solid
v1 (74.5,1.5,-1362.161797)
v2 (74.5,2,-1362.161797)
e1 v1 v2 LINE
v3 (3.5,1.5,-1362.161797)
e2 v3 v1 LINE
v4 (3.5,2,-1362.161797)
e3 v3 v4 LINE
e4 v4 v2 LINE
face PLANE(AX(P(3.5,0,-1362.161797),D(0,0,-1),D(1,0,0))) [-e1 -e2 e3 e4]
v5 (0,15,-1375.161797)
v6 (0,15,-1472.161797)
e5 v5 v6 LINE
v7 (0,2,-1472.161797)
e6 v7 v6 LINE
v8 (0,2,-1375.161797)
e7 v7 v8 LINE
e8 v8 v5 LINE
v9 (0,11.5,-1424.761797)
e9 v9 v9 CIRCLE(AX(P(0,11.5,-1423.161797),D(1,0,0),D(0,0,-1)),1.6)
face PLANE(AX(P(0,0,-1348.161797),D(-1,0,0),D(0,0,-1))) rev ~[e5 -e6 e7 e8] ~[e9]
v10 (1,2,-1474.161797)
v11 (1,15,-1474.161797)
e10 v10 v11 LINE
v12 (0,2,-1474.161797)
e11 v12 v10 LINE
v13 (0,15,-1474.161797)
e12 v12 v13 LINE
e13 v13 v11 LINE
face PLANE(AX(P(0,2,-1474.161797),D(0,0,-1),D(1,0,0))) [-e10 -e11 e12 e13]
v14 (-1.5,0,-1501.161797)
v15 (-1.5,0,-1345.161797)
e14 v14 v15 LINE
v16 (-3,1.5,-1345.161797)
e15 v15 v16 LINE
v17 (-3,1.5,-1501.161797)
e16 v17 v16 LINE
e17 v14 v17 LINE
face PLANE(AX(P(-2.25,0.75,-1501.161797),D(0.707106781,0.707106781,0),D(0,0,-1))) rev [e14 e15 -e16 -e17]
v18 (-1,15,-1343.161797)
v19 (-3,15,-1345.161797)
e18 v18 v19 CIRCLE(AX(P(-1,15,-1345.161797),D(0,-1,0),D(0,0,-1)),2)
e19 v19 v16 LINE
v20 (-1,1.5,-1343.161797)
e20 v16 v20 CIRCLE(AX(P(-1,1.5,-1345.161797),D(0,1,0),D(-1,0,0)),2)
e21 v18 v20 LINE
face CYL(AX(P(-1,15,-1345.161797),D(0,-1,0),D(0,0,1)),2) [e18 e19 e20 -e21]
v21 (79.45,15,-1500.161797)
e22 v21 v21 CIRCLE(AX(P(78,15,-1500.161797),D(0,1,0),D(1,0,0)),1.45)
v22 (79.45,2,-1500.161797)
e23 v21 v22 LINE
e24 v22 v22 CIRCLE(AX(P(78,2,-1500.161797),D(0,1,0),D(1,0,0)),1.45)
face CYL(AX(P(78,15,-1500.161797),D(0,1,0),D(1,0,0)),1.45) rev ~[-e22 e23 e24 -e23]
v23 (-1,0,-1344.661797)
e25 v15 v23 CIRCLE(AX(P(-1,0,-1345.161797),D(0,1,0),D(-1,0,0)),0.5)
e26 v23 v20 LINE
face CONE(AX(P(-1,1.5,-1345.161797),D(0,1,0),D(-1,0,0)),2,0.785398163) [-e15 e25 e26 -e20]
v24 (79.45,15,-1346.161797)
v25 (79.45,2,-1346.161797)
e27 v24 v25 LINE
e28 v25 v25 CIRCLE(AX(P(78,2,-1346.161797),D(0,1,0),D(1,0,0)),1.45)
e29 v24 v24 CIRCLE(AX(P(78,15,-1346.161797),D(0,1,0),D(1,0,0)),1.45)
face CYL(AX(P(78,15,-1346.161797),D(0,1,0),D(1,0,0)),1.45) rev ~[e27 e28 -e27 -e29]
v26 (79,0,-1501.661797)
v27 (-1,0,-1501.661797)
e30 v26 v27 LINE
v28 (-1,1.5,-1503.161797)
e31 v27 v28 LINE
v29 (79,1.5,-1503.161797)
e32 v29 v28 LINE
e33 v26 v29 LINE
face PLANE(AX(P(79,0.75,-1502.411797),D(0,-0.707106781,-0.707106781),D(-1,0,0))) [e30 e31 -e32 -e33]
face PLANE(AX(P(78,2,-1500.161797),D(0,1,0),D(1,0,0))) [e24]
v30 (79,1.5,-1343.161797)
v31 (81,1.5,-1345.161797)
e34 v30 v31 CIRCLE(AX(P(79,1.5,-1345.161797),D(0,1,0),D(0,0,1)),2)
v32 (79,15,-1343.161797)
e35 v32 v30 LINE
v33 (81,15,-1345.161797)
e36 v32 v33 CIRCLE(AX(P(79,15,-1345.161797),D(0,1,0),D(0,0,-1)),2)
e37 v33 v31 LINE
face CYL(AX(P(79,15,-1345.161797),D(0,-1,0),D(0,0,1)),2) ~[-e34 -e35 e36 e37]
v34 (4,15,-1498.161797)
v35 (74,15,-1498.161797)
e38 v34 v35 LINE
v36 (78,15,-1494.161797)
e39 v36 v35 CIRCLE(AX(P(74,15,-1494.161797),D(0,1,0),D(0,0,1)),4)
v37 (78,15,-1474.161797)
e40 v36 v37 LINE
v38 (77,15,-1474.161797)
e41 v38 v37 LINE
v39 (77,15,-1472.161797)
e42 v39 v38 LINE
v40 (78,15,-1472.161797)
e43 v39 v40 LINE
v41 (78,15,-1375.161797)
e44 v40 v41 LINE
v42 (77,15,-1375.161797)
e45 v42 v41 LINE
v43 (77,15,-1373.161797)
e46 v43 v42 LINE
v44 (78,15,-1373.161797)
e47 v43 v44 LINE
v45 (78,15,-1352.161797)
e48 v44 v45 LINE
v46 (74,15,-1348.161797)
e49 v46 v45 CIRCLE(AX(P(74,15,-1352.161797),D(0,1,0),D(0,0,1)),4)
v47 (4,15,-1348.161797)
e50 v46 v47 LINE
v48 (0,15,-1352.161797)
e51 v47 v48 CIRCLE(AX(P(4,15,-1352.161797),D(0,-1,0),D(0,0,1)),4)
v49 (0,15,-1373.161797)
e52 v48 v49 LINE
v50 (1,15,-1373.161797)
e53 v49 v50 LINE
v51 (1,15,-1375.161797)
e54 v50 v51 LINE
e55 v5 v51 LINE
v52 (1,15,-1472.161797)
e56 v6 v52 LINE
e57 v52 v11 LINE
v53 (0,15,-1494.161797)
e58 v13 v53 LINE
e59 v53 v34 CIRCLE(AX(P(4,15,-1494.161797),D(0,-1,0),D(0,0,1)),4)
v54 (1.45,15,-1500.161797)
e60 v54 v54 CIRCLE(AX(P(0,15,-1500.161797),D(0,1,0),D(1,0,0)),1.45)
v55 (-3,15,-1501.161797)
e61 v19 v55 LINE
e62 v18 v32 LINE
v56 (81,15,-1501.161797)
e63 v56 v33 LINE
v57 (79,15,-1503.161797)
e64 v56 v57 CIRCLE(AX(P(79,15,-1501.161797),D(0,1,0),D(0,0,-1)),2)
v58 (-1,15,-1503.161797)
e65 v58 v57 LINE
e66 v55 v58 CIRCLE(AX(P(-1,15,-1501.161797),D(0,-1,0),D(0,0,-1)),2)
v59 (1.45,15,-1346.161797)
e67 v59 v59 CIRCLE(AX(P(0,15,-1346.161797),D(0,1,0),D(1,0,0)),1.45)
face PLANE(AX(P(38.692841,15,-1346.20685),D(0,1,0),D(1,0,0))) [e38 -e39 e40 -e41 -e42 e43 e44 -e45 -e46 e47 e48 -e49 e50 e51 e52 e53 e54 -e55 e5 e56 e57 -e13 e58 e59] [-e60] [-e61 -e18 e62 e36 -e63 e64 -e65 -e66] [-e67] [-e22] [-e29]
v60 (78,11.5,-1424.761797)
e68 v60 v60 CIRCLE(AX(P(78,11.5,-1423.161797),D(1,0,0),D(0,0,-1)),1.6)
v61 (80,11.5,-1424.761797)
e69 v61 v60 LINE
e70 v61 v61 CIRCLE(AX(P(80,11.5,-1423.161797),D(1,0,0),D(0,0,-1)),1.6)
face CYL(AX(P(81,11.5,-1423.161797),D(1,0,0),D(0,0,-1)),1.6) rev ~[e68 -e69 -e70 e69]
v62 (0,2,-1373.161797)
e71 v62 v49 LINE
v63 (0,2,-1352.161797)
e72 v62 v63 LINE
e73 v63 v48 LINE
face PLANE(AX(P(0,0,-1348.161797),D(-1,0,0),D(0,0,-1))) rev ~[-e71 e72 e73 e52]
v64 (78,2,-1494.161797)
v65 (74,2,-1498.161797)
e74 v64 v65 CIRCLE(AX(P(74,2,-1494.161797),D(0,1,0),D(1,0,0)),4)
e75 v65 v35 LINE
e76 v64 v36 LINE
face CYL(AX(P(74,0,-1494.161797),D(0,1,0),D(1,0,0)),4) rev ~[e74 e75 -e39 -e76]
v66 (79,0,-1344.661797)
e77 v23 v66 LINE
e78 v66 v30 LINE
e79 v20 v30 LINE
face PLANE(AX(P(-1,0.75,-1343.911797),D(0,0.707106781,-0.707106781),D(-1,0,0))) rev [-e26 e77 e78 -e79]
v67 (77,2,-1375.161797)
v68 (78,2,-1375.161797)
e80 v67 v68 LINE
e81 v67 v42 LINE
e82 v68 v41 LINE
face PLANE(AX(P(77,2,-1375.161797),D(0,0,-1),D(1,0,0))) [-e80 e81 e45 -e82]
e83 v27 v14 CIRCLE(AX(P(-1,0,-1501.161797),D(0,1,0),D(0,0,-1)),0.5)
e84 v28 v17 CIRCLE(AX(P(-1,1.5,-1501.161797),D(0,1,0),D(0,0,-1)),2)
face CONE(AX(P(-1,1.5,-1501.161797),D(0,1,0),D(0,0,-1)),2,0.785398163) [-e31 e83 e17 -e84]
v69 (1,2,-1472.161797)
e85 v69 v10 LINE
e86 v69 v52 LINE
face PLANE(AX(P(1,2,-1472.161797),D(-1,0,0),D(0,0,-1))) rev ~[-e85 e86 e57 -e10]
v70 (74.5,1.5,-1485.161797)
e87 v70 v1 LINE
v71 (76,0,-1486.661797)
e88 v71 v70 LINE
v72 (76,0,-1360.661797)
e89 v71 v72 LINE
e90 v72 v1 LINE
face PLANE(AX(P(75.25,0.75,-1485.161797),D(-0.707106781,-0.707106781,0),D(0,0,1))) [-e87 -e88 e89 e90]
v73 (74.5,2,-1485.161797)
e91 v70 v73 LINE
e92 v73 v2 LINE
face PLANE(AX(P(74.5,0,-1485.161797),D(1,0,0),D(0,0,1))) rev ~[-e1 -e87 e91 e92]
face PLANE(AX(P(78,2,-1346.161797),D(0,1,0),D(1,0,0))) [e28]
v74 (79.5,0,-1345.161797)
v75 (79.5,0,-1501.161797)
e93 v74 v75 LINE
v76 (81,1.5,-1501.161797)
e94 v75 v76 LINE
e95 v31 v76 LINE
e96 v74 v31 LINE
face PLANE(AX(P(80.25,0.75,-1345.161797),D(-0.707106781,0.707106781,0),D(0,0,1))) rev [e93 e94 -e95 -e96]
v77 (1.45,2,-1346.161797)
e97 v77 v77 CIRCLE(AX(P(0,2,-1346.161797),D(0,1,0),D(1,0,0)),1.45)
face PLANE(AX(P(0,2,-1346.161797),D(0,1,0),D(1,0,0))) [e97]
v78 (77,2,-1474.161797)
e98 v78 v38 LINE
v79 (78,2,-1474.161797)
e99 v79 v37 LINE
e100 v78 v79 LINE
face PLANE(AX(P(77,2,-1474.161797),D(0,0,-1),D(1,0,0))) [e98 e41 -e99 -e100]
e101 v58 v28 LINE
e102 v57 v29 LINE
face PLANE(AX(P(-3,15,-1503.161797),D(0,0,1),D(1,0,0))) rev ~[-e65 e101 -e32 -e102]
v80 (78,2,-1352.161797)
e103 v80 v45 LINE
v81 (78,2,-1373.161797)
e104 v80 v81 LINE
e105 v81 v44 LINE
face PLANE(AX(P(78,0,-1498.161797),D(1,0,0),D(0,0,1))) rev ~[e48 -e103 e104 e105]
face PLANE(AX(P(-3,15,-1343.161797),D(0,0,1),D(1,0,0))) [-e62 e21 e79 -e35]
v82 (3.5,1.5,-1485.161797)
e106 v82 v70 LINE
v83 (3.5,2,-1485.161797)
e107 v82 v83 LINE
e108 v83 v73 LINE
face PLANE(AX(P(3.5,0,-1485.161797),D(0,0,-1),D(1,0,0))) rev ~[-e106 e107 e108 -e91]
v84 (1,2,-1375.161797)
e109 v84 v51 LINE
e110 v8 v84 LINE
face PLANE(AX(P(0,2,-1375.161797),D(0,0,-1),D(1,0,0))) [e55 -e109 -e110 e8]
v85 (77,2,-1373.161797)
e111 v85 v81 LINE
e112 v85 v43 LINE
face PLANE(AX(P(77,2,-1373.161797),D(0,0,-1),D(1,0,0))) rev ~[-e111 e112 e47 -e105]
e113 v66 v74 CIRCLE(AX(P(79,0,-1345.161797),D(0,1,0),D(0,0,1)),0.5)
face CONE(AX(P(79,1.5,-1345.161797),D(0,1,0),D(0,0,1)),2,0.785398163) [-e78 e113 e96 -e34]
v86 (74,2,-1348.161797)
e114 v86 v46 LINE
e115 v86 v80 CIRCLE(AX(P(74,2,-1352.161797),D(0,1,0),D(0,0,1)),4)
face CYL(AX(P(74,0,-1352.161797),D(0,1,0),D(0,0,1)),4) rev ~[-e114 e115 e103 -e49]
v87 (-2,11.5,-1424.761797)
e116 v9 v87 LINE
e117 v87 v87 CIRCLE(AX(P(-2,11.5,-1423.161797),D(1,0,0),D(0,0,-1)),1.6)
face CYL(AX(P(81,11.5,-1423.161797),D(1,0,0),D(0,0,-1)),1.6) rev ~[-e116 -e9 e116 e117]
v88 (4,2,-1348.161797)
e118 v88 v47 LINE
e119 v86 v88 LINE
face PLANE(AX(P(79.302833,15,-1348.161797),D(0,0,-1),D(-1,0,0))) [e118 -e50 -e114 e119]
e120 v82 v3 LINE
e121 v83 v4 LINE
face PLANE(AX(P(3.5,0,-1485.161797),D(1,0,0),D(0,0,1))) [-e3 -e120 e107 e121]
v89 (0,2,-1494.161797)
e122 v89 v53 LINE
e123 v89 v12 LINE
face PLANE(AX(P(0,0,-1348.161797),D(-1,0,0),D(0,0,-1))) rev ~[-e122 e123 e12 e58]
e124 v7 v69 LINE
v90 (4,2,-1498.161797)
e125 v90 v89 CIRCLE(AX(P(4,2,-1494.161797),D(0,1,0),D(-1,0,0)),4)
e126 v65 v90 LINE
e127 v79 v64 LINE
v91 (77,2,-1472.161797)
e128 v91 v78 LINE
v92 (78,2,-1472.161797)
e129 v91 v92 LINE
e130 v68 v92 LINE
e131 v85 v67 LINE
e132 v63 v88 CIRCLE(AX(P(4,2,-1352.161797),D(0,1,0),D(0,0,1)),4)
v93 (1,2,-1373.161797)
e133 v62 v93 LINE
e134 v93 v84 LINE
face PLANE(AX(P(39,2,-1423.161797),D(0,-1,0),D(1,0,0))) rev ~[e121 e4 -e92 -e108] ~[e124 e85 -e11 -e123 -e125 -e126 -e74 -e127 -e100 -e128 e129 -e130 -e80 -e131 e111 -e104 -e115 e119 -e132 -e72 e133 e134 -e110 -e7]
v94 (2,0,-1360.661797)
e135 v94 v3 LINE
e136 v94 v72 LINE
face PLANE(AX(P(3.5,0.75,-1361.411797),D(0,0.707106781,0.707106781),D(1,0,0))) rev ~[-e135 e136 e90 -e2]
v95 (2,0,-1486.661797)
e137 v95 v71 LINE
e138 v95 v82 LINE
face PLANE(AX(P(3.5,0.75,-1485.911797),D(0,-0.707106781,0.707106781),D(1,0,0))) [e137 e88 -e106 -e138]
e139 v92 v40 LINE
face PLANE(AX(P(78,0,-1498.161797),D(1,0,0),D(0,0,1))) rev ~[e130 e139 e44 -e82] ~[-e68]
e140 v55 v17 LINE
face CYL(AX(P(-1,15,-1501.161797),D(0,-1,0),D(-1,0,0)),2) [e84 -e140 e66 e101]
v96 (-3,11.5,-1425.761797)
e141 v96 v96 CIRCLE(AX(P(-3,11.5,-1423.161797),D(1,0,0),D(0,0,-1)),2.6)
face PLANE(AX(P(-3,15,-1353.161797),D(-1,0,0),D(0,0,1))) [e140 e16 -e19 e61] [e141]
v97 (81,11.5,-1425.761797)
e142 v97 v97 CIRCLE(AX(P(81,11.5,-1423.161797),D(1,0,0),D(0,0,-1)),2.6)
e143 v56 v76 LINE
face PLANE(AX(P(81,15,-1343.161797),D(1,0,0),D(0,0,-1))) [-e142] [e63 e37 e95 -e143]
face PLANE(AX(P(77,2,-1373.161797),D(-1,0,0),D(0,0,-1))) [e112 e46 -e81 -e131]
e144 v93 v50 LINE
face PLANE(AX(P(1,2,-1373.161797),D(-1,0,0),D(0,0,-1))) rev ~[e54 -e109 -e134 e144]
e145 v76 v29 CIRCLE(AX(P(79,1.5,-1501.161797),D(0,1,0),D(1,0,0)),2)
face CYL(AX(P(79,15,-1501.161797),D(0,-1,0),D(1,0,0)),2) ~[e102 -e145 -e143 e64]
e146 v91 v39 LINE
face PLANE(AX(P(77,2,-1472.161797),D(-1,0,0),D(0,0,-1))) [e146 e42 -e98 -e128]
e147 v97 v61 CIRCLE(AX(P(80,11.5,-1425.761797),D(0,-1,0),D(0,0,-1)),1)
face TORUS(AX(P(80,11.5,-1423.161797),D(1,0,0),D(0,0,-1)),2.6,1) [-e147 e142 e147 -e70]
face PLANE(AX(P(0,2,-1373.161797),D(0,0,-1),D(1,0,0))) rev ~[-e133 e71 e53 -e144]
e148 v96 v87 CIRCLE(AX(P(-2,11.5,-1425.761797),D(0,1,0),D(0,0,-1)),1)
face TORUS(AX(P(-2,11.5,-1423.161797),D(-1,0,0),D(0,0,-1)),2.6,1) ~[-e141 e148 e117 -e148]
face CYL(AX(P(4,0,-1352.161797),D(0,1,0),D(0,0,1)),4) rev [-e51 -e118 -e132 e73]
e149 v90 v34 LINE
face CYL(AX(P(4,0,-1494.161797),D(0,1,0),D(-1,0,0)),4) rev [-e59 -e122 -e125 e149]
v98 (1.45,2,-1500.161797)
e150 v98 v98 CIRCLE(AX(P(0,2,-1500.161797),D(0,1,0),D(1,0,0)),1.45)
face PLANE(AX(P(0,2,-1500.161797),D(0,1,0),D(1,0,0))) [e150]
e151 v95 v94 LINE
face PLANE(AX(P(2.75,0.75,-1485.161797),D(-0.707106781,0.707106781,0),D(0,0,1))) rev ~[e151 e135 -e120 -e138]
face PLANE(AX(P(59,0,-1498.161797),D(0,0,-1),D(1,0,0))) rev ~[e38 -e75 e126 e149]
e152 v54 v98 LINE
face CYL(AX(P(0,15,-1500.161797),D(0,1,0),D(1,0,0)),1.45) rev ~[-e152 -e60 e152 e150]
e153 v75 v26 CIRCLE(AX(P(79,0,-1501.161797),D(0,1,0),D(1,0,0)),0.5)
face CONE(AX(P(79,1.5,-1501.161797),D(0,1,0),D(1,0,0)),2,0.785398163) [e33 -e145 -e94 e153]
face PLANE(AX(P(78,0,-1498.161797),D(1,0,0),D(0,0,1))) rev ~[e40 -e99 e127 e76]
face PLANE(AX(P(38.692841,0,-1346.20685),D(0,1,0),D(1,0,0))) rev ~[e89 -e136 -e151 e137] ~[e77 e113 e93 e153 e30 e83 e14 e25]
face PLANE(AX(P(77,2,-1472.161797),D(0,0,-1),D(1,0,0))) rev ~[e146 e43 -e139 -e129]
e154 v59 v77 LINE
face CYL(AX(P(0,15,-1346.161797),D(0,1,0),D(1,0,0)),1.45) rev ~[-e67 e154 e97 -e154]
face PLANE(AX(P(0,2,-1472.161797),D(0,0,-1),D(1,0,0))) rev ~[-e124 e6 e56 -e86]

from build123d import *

# Parameters (mm, degrees)
EXTRUDE_2_DEPTH     = 15
FILLET_1_R          = 2
FILLET_2_R          = 2
FILLET_3_R          = 4
FILLET_4_R          = 4
EXTRUDE_3_DEPTH     = 15
FILLET_5_R          = 2
SKETCH_5_R          = 1.45
CUT_EXTRUDE_1_DEPTH = 10
EXTRUDE_4_DEPTH     = 2
SKETCH_9_R          = 1.6
CUT_EXTRUDE_3_DEPTH = 84
FILLET_6_R          = 1
FILLET_7_R          = 1
SKETCH_10_W         = 78
SKETCH_10_H         = 128
SKETCH_10_W_2       = 71
SKETCH_10_H_2       = 123
EXTRUDE_5_DEPTH     = 2
SKETCH_11_W         = 1
SKETCH_11_H         = 2
EXTRUDE_6_DEPTH     = 13
SKETCH_13_R         = 2.45
EXTRUDE_8_DEPTH     = 13
SKETCH_14_W         = 62.39543454
SKETCH_14_H         = 37.793362071
SKETCH_14_H_2       = 37.79336207
CUT_EXTRUDE_4_DEPTH = 15
EXTRUDE_9_DEPTH     = 15
SKETCH_16_R         = 1.45
CUT_EXTRUDE_5_DEPTH = 13
FILLET_8_R          = 2
CHAMFER_1_SIZE      = 1.5


with BuildPart() as part:
    # 草图3 → 凸台-拉伸2 (new body)
    with BuildSketch(Plane(origin=(0, 0, 0), x_dir=(1, 0, 0), z_dir=(0, 1, 0))):
        Polygon((-3, 1345.161797484), (-3, 1501.161797484), (17.145898034, 1501.161797484), (27.145898034, 1521.161797484), (50.854101966, 1521.161797484), (60.854101966, 1501.161797484), (81, 1501.161797484), (81, 1345.161797484), (60.854101966, 1345.161797484), (50.854101966, 1325.161797484), (27.145898034, 1325.161797484), (17.145898034, 1345.161797484), align=None)
        Polygon((49, 1518.161797484), (59, 1498.161797484), (78, 1498.161797484), (78, 1348.161797484), (59, 1348.161797484), (49, 1328.161797484), (29, 1328.161797484), (19, 1348.161797484), (0, 1348.161797484), (0, 1498.161797484), (19, 1498.161797484), (29, 1518.161797484), align=None, mode=Mode.SUBTRACT)
    extrude(amount=EXTRUDE_2_DEPTH)

    # 圆角1
    fillet_1_edges = [part.edges().sort_by_distance(p)[0] for p in [
        (49, 7.5, -1518.161797484),
        (29, 7.5, -1518.161797484),
        (19, 7.5, -1498.161797484),
        (59, 7.5, -1498.161797484),
        (17.145898034, 7.5, -1501.161797484),
        (27.145898034, 7.5, -1521.161797484),
        (50.854101966, 7.5, -1521.161797484),
        (60.854101966, 7.5, -1501.161797484),
    ]]
    fillet(fillet_1_edges, radius=FILLET_1_R)

    # 圆角2
    fillet_2_edges = [part.edges().sort_by_distance(p)[0] for p in [
        (19, 7.5, -1348.161797484),
        (29, 7.5, -1328.161797484),
        (49, 7.5, -1328.161797484),
        (59, 7.5, -1348.161797484),
        (60.854101966, 7.5, -1345.161797484),
        (50.854101966, 7.5, -1325.161797484),
        (27.145898034, 7.5, -1325.161797484),
        (17.145898034, 7.5, -1345.161797484),
    ]]
    fillet(fillet_2_edges, radius=FILLET_2_R)

    # 圆角3
    fillet_3_edges = [part.edges().sort_by_distance(p)[0] for p in [
        (-3, 7.5, -1501.161797484),
        (81, 7.5, -1501.161797484),
        (81, 7.5, -1345.161797484),
        (-3, 7.5, -1345.161797484),
    ]]
    fillet(fillet_3_edges, radius=FILLET_3_R)

    # 圆角4
    fillet_4_edges = [part.edges().sort_by_distance(p)[0] for p in [
        (0, 7.5, -1498.161797484),
        (0, 7.5, -1348.161797484),
        (78, 7.5, -1348.161797484),
        (78, 7.5, -1498.161797484),
    ]]
    fillet(fillet_4_edges, radius=FILLET_4_R)

    # 草图4 → 凸台-拉伸3 (add)
    with BuildSketch(Plane(origin=(0, 15, 0), x_dir=(1, 0, 0), z_dir=(0, 1, 0))):
        with BuildLine():
            Line((8.454915028, 1345.161797484), (22.145898034, 1335.161797484))
            Line((22.145898034, 1335.161797484), (17.698684438, 1344.056224675))
            ThreePointArc((17.698684438, 1344.056224675), (16.96129228, 1344.8630991), (15.909830056, 1345.161797484))
            Line((15.909830056, 1345.161797484), (8.454915028, 1345.161797484))
        make_face()
        with BuildLine():
            Line((69.545084972, 1345.161797484), (62.090169944, 1345.161797484))
            ThreePointArc((62.090169944, 1345.161797484), (61.03870772, 1344.8630991), (60.301315562, 1344.056224675))
            Line((60.301315562, 1344.056224675), (55.854101966, 1335.161797484))
            Line((55.854101966, 1335.161797484), (69.545084972, 1345.161797484))
        make_face()
        with BuildLine():
            Line((69.545084972, 1501.161797484), (55.854101966, 1511.161797484))
            Line((55.854101966, 1511.161797484), (60.301315562, 1502.267370293))
            ThreePointArc((60.301315562, 1502.267370293), (61.03870772, 1501.460495867), (62.090169944, 1501.161797484))
            Line((62.090169944, 1501.161797484), (69.545084972, 1501.161797484))
        make_face()
        with BuildLine():
            Line((8.454915028, 1501.161797484), (15.909830056, 1501.161797484))
            ThreePointArc((15.909830056, 1501.161797484), (16.96129228, 1501.460495867), (17.698684438, 1502.267370293))
            Line((17.698684438, 1502.267370293), (22.145898034, 1511.161797484))
            Line((22.145898034, 1511.161797484), (8.454915028, 1501.161797484))
        make_face()
    extrude(amount=-EXTRUDE_3_DEPTH)

    # 圆角5
    fillet_5_edges = [part.edges().sort_by_distance(p)[0] for p in [
        (8.454915028, 7.5, -1345.161797484),
        (22.145898034, 7.5, -1335.161797484),
        (69.545084972, 7.5, -1345.161797484),
        (55.854101966, 7.5, -1335.161797484),
        (55.854101966, 7.5, -1511.161797484),
        (69.545084972, 7.5, -1501.161797484),
        (8.454915028, 7.5, -1501.161797484),
        (22.145898034, 7.5, -1511.161797484),
    ]]
    fillet(fillet_5_edges, radius=FILLET_5_R)

    # 草图5 → 切除-拉伸1 (cut)
    with BuildSketch(Plane(origin=(0, 15, 0), x_dir=(1, 0, 0), z_dir=(0, 1, 0))):
        with Locations((16, 1344.661797484)):
            Circle(SKETCH_5_R)
        with Locations((62, 1344.661797484)):
            Circle(SKETCH_5_R)
        with Locations((62, 1501.661797484)):
            Circle(SKETCH_5_R)
        with Locations((16, 1501.661797484)):
            Circle(SKETCH_5_R)
    extrude(amount=-CUT_EXTRUDE_1_DEPTH, mode=Mode.SUBTRACT)

    # 草图6 → 凸台-拉伸4 (add)
    with BuildSketch(Plane.XZ):
        with BuildLine():
            Line((70.19771727, -1501.161797484), (77, -1501.161797484))
            ThreePointArc((77, -1501.161797484), (79.828427125, -1499.990224608), (81, -1497.161797484))
            Line((81, -1497.161797484), (81, -1487.161797484))
            Line((81, -1487.161797484), (-3, -1487.161797484))
            Line((-3, -1487.161797484), (-3, -1497.161797484))
            ThreePointArc((-3, -1497.161797484), (-1.828427125, -1499.990224608), (1, -1501.161797484))
            Line((1, -1501.161797484), (7.80228273, -1501.161797484))
            ThreePointArc((7.80228273, -1501.161797484), (8.422717804, -1501.260466287), (8.981935292, -1501.546737165))
            Line((8.981935292, -1501.546737165), (21.753826871, -1510.875425671))
            ThreePointArc((21.753826871, -1510.875425671), (22.101536871, -1511.199299092), (22.363028691, -1511.596058798))
            Line((22.363028691, -1511.596058798), (26.593111629, -1520.056224675))
            ThreePointArc((26.593111629, -1520.056224675), (27.330503787, -1520.8630991), (28.381966011, -1521.161797484))
            Line((28.381966011, -1521.161797484), (49.618033989, -1521.161797484))
            ThreePointArc((49.618033989, -1521.161797484), (50.669496213, -1520.8630991), (51.406888371, -1520.056224675))
            Line((51.406888371, -1520.056224675), (55.636971309, -1511.596058798))
            ThreePointArc((55.636971309, -1511.596058798), (55.898463129, -1511.199299092), (56.246173129, -1510.875425671))
            Line((56.246173129, -1510.875425671), (69.018064708, -1501.546737165))
            ThreePointArc((69.018064708, -1501.546737165), (69.577282196, -1501.260466287), (70.19771727, -1501.161797484))
        make_face()
        with BuildLine():
            Line((81, -1349.161797484), (81, -1359.161797484))
            Line((81, -1359.161797484), (-3, -1359.161797484))
            Line((-3, -1359.161797484), (-3, -1349.161797484))
            ThreePointArc((-3, -1349.161797484), (-1.828427125, -1346.333370359), (1, -1345.161797484))
            Line((1, -1345.161797484), (7.80228273, -1345.161797484))
            ThreePointArc((7.80228273, -1345.161797484), (8.422717804, -1345.06312868), (8.981935292, -1344.776857802))
            Line((8.981935292, -1344.776857802), (21.753826871, -1335.448169296))
            ThreePointArc((21.753826871, -1335.448169296), (22.101536871, -1335.124295876), (22.363028691, -1334.727536169))
            Line((22.363028691, -1334.727536169), (26.593111629, -1326.267370293))
            ThreePointArc((26.593111629, -1326.267370293), (27.330503787, -1325.460495867), (28.381966011, -1325.161797484))
            Line((28.381966011, -1325.161797484), (49.618033989, -1325.161797484))
            ThreePointArc((49.618033989, -1325.161797484), (50.669496213, -1325.460495867), (51.406888371, -1326.267370293))
            Line((51.406888371, -1326.267370293), (55.636971309, -1334.727536169))
            ThreePointArc((55.636971309, -1334.727536169), (55.898463129, -1335.124295876), (56.246173129, -1335.448169296))
            Line((56.246173129, -1335.448169296), (69.018064708, -1344.776857802))
            ThreePointArc((69.018064708, -1344.776857802), (69.577282196, -1345.06312868), (70.19771727, -1345.161797484))
            Line((70.19771727, -1345.161797484), (77, -1345.161797484))
            ThreePointArc((77, -1345.161797484), (79.828427125, -1346.333370359), (81, -1349.161797484))
        make_face()
    extrude(amount=-EXTRUDE_4_DEPTH)

    # 草图9 → 切除-拉伸3 (cut)
    with BuildSketch(Plane(origin=(81, 0, 0), x_dir=(0, 0, -1), z_dir=(1, 0, 0))):
        with Locations((1423.161797484, 11.5)):
            Circle(SKETCH_9_R)
    extrude(amount=-CUT_EXTRUDE_3_DEPTH, mode=Mode.SUBTRACT)

    # 圆角6
    fillet_6_edges = [part.edges().sort_by_distance(p)[0] for p in [
        (-3, 11.5, -1421.561797484),
        (81, 11.5, -1421.561797484),
    ]]
    fillet(fillet_6_edges, radius=FILLET_6_R)

    # 圆角7
    fillet_7_edges = [part.edges().sort_by_distance(p)[0] for p in [
        (14.55, 15, -1501.661797484),
        (60.55, 15, -1501.661797484),
        (60.55, 15, -1344.661797484),
        (14.55, 15, -1344.661797484),
    ]]
    fillet(fillet_7_edges, radius=FILLET_7_R)

    # 草图10 → 凸台-拉伸5 (add)
    with BuildSketch(Plane.XZ):
        with Locations((39, -1423.161797484)):
            Rectangle(SKETCH_10_W, SKETCH_10_H)
        with Locations((39, -1423.661797484)):
            Rectangle(SKETCH_10_W_2, SKETCH_10_H_2, mode=Mode.SUBTRACT)
    extrude(amount=-EXTRUDE_5_DEPTH)

    # 草图11 → 凸台-拉伸6 (add)
    with BuildSketch(Plane(origin=(0, 2, 0), x_dir=(1, 0, 0), z_dir=(0, 1, 0))):
        with Locations((77.5, 1374.161797484)):
            Rectangle(SKETCH_11_W, SKETCH_11_H)
        with Locations((0.5, 1374.161797484)):
            Rectangle(SKETCH_11_W, SKETCH_11_H)
        with Locations((0.5, 1473.161797484)):
            Rectangle(SKETCH_11_W, SKETCH_11_H)
        with Locations((77.5, 1473.161797484)):
            Rectangle(SKETCH_11_W, SKETCH_11_H)
    extrude(amount=EXTRUDE_6_DEPTH)

    # 草图13 → 凸台-拉伸8 (add)
    with BuildSketch(Plane(origin=(0, 15, 0), x_dir=(1, 0, 0), z_dir=(0, 1, 0))):
        with Locations((62, 1501.661797484)):
            Circle(SKETCH_13_R)
        with Locations((16, 1501.661797484)):
            Circle(SKETCH_13_R)
        with Locations((62, 1344.661797484)):
            Circle(SKETCH_13_R)
        with Locations((16, 1344.661797484)):
            Circle(SKETCH_13_R)
    extrude(amount=-EXTRUDE_8_DEPTH)

    # 草图14 → 切除-拉伸4 (cut)
    with BuildSketch(Plane(origin=(0, 15, 0), x_dir=(1, 0, 0), z_dir=(0, 1, 0))):
        with Locations((39, 1326.265116449)):
            Rectangle(SKETCH_14_W, SKETCH_14_H)
        with Locations((39, 1520.058478519)):
            Rectangle(SKETCH_14_W, SKETCH_14_H_2)
    extrude(amount=-CUT_EXTRUDE_4_DEPTH, mode=Mode.SUBTRACT)

    # 草图15 → 凸台-拉伸9 (add)
    with BuildSketch(Plane(origin=(0, 15, 0), x_dir=(1, 0, 0), z_dir=(0, 1, 0))):
        Polygon((-3, 1348.161797484), (-3, 1343.161797484), (81, 1343.161797484), (81, 1348.161797484), (81, 1352.401319515), (79.302833031, 1352.401319515), (79.302833031, 1348.161797484), (-0.854989164, 1348.161797484), (-0.854989164, 1353.161797484), (-3, 1353.161797484), align=None)
        Polygon((79.302833031, 1493.922275452), (79.302833031, 1498.161797484), (-0.854989164, 1498.161797484), (-0.854989164, 1493.161797484), (-3, 1493.161797484), (-3, 1498.161797484), (-3, 1503.161797484), (81, 1503.161797484), (81, 1498.161797484), (81, 1493.922275452), align=None)
    extrude(amount=-EXTRUDE_9_DEPTH)

    # 草图16 → 切除-拉伸5 (cut)
    with BuildSketch(Plane(origin=(0, 15, 0), x_dir=(1, 0, 0), z_dir=(0, 1, 0))):
        with Locations((0, 1346.161797484)):
            Circle(SKETCH_16_R)
        with Locations((0, 1500.161797484)):
            Circle(SKETCH_16_R)
        with Locations((78, 1500.161797484)):
            Circle(SKETCH_16_R)
        with Locations((78, 1346.161797484)):
            Circle(SKETCH_16_R)
    extrude(amount=-CUT_EXTRUDE_5_DEPTH, mode=Mode.SUBTRACT)

    # 圆角8
    fillet_8_edges = [part.edges().sort_by_distance(p)[0] for p in [
        (81, 7.5, -1343.161797484),
        (-3, 7.5, -1343.161797484),
        (-3, 7.5, -1503.161797484),
        (81, 7.5, -1503.161797484),
    ]]
    fillet(fillet_8_edges, radius=FILLET_8_R)

    # 倒角1
    chamfer_1_edges = [part.edges().sort_by_distance(p)[0] for p in [
        (74.5, 0, -1423.661797484),
        (39, 0, -1485.161797484),
        (3.5, 0, -1423.661797484),
        (39, 0, -1362.161797484),
        (81, 0, -1423.161797484),
        (39, 0, -1503.161797484),
        (39, 0, -1343.161797484),
        (-3, 0, -1423.161797484),
        (80.414213562, 0, -1343.747583921),
        (-2.414213562, 0, -1343.747583921),
        (-2.414213562, 0, -1502.576011046),
        (80.414213562, 0, -1502.576011046),
    ]]
    chamfer(chamfer_1_edges, length=CHAMFER_1_SIZE)


solid = part.part
